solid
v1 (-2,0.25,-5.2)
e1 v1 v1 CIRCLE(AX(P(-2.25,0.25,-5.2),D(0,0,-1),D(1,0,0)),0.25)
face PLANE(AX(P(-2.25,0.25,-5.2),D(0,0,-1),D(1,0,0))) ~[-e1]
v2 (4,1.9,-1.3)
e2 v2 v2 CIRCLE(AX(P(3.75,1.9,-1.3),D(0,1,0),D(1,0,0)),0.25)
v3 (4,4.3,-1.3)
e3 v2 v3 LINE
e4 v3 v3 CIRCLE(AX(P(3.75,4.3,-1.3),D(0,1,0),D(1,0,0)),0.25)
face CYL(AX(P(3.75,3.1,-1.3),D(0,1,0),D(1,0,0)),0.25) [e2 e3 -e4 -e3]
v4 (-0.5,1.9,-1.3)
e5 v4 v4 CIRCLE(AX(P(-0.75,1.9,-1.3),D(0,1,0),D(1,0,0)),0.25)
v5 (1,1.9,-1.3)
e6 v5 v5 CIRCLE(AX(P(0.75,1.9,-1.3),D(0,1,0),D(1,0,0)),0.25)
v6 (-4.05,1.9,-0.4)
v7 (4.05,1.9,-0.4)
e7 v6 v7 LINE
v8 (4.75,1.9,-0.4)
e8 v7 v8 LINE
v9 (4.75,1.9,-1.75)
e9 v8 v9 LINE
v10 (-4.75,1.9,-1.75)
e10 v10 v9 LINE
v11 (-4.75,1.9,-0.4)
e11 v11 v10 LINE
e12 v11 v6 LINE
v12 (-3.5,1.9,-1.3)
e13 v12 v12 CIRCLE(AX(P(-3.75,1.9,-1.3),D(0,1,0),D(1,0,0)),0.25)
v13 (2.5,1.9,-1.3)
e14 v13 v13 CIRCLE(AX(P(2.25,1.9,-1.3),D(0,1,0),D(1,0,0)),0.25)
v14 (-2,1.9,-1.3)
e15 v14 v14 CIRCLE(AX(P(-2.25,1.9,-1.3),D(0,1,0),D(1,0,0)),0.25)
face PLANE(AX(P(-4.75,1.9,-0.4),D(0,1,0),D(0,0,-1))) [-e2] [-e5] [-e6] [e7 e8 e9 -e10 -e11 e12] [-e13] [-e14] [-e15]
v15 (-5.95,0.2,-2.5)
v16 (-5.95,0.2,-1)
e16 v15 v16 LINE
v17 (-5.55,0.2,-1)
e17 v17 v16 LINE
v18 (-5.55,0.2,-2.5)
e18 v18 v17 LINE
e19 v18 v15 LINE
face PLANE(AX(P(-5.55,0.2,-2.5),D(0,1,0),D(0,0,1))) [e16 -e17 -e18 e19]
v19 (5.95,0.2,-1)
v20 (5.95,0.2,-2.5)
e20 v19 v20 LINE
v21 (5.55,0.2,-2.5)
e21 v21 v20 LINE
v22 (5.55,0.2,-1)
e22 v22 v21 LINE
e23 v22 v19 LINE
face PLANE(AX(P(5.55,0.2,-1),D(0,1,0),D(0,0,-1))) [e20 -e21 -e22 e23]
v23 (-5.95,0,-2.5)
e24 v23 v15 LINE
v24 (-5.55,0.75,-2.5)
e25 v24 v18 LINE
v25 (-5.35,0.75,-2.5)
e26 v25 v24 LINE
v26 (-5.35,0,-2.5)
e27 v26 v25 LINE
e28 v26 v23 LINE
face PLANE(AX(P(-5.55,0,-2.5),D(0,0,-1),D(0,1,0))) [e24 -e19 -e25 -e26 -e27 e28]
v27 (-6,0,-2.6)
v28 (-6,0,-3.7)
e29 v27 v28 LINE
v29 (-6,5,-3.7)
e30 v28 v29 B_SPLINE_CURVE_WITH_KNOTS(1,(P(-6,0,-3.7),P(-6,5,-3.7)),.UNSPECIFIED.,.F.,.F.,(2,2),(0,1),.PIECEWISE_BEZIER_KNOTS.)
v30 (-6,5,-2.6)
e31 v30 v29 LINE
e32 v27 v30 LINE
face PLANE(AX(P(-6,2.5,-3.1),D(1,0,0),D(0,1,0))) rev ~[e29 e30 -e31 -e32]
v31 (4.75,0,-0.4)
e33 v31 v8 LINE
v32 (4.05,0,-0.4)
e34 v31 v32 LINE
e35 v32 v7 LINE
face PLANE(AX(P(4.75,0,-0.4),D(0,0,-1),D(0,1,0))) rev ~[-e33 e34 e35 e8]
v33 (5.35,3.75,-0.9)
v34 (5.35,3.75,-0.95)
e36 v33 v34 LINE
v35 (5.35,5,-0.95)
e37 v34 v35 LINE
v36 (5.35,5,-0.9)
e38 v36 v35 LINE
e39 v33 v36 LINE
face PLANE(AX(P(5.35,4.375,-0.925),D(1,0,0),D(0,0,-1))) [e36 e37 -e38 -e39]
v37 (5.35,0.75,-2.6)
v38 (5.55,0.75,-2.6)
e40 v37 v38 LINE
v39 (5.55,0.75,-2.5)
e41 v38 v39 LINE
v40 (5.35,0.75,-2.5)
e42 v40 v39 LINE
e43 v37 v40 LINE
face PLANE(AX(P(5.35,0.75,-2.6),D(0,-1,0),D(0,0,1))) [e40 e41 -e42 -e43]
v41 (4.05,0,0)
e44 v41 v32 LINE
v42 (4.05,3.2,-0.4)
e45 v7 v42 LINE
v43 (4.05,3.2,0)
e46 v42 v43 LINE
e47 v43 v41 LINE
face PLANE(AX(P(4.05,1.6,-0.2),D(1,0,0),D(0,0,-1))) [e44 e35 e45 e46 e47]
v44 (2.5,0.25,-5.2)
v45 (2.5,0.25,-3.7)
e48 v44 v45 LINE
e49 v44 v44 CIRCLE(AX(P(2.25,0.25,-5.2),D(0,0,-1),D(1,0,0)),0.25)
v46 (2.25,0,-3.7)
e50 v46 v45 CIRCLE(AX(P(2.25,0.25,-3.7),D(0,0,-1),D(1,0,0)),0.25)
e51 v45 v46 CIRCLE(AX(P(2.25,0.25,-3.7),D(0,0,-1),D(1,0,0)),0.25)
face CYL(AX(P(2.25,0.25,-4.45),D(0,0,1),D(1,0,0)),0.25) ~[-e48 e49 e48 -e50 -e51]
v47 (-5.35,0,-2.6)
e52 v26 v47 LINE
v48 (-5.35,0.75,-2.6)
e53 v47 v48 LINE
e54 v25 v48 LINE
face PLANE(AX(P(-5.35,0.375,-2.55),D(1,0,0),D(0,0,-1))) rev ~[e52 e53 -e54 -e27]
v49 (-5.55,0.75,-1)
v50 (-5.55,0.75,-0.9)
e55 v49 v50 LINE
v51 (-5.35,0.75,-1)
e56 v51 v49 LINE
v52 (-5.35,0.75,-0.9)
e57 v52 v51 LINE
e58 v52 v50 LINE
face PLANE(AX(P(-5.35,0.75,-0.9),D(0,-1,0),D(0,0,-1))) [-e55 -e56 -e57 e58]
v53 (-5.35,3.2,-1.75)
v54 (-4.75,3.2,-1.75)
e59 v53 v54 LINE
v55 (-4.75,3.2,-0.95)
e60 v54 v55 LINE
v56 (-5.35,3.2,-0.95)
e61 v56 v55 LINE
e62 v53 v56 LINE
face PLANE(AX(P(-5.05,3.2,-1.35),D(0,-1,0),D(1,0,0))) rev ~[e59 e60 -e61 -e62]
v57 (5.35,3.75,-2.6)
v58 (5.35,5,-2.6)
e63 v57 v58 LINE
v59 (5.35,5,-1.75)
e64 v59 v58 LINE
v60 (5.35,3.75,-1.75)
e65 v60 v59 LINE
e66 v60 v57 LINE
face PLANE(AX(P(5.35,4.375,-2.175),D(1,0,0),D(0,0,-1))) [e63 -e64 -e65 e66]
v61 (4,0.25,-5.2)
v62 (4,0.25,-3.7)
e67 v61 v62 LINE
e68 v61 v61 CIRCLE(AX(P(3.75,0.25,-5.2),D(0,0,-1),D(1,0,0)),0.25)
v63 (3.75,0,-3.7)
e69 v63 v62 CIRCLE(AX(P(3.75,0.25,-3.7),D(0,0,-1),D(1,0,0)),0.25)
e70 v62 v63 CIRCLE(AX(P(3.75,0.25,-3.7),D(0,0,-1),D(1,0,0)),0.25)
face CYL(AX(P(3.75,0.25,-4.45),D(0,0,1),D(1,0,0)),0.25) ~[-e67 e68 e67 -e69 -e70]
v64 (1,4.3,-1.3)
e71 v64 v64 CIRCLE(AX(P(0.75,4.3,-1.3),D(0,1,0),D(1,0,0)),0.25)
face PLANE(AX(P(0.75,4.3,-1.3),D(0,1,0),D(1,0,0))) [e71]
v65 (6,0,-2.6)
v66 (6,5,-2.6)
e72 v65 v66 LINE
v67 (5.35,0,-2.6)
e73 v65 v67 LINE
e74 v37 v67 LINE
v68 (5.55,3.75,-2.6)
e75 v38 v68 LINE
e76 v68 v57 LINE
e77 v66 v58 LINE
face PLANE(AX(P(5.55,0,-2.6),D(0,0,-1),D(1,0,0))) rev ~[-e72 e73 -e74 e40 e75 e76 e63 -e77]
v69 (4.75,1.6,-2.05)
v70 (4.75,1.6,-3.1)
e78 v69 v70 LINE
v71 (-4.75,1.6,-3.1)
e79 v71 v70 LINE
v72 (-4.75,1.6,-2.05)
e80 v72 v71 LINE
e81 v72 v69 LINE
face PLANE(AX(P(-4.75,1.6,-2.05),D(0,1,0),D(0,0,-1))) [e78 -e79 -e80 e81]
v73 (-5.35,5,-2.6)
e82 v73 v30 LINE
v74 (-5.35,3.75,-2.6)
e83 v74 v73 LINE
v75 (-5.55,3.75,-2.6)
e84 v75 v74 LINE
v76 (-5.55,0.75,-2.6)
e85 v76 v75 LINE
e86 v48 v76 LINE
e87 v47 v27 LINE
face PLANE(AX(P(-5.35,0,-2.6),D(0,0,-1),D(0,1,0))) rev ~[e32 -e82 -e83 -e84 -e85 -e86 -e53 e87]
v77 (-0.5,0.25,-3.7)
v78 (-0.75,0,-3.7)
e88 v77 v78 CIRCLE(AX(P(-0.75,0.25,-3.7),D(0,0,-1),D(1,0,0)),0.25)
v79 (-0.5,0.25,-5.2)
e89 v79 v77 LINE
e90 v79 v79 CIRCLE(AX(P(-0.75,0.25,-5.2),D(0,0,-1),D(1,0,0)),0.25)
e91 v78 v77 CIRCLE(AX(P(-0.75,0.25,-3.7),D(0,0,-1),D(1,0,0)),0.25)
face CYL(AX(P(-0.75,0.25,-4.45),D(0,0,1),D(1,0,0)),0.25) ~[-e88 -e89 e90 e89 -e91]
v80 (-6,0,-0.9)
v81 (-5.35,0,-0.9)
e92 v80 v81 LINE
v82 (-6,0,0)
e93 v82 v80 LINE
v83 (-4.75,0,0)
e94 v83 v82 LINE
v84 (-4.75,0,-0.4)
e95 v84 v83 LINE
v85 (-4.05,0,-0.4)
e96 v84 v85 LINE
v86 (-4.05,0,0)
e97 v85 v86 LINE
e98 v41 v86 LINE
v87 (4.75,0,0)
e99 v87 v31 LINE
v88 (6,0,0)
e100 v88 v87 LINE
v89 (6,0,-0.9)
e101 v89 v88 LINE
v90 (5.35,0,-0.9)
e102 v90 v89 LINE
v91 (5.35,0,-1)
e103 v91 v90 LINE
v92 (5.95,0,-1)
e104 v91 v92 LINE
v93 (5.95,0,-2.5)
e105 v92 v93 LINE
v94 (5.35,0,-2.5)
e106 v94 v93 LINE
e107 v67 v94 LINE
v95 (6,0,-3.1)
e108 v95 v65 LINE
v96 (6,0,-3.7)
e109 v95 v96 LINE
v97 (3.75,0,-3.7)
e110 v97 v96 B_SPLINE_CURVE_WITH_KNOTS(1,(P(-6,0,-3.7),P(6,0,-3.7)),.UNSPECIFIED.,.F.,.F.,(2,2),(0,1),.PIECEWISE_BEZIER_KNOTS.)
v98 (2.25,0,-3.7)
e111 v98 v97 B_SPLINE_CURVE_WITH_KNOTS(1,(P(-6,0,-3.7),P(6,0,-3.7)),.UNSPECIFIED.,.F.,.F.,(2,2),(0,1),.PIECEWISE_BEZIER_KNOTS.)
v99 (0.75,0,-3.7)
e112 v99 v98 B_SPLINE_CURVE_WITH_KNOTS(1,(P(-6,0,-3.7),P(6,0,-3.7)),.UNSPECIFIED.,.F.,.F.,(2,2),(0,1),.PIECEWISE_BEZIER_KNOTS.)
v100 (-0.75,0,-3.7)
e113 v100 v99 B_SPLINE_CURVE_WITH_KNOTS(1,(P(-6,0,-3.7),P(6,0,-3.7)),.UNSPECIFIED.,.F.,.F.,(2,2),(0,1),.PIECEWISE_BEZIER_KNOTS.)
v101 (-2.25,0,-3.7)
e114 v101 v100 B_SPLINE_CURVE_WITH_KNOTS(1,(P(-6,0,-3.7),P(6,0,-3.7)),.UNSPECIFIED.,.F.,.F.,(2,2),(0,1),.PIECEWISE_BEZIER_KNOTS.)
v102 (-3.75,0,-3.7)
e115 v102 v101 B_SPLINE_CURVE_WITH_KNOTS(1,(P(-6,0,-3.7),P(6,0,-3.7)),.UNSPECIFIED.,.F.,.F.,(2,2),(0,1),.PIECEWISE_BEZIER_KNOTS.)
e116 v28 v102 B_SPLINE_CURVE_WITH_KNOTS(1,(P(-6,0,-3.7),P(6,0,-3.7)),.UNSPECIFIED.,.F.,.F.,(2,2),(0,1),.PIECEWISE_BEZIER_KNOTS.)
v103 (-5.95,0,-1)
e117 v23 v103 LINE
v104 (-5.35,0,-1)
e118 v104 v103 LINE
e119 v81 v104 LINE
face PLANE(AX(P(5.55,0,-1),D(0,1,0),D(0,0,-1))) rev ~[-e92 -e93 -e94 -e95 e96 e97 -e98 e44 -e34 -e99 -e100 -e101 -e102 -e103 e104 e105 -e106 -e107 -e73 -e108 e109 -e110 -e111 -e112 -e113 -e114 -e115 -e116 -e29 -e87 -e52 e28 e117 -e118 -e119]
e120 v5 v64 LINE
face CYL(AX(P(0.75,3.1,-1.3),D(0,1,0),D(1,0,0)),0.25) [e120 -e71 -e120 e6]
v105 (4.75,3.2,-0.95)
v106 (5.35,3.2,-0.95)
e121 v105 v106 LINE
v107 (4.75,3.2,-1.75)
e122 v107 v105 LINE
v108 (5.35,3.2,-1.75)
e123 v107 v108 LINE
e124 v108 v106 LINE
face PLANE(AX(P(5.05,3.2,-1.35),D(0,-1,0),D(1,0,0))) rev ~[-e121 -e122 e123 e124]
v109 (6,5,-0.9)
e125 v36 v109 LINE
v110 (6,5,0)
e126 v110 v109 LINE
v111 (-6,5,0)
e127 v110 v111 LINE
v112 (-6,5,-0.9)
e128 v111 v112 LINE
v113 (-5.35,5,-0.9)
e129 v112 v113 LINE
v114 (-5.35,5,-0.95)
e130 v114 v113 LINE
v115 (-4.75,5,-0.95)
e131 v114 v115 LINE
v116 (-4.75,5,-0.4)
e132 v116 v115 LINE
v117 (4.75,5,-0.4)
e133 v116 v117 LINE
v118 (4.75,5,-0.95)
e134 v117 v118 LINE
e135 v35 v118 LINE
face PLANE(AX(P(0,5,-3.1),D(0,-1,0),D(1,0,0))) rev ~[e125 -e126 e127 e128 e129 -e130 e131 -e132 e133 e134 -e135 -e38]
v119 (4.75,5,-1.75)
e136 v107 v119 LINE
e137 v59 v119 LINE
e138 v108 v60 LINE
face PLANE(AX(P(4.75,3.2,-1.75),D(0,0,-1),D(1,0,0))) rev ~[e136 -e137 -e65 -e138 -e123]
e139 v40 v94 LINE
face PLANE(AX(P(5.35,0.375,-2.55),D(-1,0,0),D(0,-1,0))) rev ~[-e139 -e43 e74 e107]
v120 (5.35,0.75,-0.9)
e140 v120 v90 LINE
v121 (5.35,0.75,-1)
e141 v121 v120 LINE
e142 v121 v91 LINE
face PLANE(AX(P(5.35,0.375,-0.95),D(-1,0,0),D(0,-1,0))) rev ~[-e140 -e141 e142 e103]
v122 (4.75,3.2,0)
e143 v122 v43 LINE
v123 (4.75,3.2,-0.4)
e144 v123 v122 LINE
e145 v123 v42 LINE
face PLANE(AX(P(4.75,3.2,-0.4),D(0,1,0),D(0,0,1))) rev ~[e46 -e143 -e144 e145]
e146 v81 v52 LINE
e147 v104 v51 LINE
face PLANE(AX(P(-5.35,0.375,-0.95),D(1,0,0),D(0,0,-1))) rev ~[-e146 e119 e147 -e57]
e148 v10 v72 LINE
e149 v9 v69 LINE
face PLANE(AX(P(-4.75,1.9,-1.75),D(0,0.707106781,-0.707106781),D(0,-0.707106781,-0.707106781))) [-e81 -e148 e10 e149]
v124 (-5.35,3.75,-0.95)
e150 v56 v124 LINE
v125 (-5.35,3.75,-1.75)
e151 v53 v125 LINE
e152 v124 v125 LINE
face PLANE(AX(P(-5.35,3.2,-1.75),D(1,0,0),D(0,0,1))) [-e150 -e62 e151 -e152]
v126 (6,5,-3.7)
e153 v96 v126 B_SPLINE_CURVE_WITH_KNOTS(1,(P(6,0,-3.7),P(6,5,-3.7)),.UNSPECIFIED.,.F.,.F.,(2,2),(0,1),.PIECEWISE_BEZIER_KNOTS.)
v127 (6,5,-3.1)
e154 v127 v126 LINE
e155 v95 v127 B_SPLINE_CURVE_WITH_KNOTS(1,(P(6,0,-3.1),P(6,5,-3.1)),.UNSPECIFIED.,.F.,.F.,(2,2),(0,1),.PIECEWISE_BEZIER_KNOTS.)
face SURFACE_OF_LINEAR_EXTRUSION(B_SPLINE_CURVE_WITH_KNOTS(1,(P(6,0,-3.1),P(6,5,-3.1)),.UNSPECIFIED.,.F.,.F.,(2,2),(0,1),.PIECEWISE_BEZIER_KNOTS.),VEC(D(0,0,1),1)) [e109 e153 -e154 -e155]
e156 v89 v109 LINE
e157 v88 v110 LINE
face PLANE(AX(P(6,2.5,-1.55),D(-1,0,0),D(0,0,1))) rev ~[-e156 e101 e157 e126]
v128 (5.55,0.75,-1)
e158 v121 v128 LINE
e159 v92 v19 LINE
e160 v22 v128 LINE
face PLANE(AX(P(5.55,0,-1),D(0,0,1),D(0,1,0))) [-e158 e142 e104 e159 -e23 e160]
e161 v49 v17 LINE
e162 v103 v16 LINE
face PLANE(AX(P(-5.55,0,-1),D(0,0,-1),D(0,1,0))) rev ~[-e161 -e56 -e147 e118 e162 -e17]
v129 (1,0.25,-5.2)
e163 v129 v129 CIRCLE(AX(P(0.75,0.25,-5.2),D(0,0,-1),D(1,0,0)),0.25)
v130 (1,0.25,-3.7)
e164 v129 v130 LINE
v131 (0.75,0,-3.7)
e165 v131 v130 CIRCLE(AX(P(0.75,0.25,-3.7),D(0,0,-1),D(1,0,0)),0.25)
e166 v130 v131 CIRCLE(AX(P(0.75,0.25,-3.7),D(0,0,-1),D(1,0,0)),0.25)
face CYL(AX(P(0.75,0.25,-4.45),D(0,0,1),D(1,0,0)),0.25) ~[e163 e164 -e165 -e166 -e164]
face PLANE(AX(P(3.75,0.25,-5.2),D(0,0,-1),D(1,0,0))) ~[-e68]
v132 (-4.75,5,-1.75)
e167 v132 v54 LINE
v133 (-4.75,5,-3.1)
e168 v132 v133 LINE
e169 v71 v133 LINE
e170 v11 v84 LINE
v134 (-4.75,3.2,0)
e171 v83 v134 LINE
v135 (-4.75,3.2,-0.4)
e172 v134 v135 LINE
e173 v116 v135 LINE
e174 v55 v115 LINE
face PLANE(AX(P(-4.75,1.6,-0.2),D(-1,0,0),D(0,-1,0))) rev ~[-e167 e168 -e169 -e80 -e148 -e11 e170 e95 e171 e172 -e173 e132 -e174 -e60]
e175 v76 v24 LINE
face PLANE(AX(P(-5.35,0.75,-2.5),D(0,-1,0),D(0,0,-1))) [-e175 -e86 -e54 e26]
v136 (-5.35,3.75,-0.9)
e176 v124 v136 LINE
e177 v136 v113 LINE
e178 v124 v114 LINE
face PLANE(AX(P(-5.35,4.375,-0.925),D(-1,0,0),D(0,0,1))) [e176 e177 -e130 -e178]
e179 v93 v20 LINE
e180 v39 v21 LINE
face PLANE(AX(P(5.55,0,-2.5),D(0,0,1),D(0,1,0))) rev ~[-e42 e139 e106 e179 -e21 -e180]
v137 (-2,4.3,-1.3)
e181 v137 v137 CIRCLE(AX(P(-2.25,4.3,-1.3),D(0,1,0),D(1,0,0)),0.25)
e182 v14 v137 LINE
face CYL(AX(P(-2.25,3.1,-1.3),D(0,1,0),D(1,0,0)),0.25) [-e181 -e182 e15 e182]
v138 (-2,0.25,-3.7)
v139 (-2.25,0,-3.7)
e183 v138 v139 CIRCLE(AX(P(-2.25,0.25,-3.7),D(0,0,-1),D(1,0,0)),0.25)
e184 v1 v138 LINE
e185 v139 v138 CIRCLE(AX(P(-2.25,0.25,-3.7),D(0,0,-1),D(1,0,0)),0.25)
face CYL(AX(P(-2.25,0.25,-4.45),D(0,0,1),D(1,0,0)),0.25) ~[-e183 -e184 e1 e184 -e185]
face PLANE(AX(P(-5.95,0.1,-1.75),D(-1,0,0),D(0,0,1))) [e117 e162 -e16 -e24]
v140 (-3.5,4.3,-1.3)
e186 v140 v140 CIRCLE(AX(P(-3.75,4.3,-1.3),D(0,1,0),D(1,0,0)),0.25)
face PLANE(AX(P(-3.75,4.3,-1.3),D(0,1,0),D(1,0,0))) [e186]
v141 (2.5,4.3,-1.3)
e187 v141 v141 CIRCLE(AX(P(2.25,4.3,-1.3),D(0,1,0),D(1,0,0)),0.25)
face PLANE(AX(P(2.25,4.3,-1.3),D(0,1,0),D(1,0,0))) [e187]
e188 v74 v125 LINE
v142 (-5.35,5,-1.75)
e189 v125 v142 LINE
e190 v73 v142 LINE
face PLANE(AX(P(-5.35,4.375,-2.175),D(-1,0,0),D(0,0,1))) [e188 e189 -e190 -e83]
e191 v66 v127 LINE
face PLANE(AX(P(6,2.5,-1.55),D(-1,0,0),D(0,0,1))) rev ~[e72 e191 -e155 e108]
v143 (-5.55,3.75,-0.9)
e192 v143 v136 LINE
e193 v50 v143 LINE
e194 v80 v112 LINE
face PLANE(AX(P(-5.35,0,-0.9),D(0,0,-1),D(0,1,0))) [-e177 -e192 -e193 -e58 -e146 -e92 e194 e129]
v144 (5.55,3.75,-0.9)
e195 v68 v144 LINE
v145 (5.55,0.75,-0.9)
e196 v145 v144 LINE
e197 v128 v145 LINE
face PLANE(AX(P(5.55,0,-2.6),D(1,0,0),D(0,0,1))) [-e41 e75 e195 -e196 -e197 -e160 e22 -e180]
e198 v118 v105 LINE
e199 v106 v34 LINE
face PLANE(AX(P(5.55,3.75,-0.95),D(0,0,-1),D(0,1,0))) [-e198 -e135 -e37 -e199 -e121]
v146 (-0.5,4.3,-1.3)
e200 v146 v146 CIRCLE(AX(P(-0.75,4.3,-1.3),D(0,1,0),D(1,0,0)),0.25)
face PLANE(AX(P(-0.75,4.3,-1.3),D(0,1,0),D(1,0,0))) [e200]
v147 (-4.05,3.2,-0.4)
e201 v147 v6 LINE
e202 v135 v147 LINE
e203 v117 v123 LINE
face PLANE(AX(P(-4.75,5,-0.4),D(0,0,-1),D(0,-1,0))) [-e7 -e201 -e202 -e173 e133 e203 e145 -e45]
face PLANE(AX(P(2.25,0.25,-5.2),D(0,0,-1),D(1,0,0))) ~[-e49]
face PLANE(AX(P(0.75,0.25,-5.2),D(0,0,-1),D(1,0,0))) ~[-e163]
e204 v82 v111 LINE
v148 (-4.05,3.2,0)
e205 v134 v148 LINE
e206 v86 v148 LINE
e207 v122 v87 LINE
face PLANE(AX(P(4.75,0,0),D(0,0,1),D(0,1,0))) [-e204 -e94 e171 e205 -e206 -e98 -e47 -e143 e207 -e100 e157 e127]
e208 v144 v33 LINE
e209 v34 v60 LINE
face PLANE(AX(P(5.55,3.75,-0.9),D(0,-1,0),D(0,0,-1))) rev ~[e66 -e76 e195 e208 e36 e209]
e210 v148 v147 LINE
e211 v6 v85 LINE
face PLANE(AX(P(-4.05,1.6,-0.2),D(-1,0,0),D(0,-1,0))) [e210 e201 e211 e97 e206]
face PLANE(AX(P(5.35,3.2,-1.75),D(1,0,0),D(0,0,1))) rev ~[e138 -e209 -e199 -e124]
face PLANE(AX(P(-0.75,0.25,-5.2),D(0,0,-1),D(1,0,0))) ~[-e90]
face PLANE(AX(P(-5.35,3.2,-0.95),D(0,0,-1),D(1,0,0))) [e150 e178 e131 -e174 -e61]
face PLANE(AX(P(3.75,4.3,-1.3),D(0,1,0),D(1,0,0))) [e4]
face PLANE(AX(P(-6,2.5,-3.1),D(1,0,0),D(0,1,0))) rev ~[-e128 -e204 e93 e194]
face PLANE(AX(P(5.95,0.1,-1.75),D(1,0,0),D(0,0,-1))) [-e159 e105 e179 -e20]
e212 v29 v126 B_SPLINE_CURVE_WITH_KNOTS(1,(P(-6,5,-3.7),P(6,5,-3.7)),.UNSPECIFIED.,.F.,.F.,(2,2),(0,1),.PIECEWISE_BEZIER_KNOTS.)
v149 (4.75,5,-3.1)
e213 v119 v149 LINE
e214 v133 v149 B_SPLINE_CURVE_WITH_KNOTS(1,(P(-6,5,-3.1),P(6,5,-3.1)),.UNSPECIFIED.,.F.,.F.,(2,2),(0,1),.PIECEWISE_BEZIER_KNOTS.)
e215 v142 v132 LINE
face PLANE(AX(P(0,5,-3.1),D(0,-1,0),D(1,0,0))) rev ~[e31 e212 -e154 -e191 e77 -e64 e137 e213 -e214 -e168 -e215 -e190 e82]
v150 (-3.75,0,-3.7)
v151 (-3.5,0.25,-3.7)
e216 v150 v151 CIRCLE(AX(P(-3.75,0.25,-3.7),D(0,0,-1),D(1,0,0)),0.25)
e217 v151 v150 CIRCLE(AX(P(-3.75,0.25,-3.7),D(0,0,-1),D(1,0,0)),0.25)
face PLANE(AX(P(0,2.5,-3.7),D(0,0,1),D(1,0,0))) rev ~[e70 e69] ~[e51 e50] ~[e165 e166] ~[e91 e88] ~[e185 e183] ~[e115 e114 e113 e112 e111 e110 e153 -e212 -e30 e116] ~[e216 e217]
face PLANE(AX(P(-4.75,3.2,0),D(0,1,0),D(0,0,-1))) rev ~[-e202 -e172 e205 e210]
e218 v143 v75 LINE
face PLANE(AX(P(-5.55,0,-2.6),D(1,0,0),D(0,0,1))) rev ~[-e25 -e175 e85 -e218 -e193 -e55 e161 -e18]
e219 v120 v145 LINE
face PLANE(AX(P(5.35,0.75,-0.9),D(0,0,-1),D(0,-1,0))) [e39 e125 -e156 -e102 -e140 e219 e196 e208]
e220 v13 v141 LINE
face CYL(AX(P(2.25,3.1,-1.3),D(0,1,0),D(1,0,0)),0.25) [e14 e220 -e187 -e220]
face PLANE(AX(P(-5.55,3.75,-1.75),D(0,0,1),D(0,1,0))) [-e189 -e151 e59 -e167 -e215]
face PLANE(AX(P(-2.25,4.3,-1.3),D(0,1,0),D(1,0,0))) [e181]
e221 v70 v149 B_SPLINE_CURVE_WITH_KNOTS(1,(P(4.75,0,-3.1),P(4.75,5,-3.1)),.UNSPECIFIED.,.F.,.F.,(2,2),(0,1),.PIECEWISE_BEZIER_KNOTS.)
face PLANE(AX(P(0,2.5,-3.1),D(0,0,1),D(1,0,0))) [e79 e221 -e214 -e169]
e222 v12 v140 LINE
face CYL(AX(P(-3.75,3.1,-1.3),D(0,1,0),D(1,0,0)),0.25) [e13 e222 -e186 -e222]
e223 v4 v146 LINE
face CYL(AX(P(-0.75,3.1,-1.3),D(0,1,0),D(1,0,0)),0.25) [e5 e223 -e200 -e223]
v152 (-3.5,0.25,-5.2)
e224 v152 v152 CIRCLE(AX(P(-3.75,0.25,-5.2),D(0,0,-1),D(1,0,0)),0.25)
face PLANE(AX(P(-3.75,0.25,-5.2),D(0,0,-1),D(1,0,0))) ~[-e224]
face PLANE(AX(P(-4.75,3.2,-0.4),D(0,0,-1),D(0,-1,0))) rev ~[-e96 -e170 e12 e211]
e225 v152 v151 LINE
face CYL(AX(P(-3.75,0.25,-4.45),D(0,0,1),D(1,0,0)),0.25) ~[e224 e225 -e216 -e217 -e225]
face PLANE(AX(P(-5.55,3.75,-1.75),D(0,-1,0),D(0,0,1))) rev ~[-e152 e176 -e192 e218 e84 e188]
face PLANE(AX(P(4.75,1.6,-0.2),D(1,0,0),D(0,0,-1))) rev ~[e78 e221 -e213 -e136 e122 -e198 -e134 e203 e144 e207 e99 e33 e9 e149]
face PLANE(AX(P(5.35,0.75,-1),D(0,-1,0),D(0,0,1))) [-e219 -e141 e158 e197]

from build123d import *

# Parameters (mm, degrees)
SKETCH1_W           = 1.25
SKETCH1_H           = 5
BOSS_EXTRUDE1_DEPTH = 3.1
BOSS_EXTRUDE2_DEPTH = 9.5
BOSS_EXTRUDE3_DEPTH = 1.250000167
CUT_EXTRUDE1_DEPTH  = 0.7
CUT_EXTRUDE2_DEPTH  = 0.7
BOSS_EXTRUDE4_DEPTH = 0.6
SKETCH7_W           = 0.45
SKETCH7_H           = 1.7
CUT_EXTRUDE3_DEPTH  = 6.0000001
CUT_EXTRUDE4_REACH  = 13.55
SKETCH8_W           = 0.8
SKETCH8_H           = 1.25
SKETCH9_W           = 0.85
SKETCH9_H           = 1.25
CUT_EXTRUDE5_DEPTH  = 0.2
SKETCH10_W          = 0.05
SKETCH10_H          = 1.25
CUT_EXTRUDE6_DEPTH  = 0.2
CUT_EXTRUDE7_REACH  = 3.8
SKETCH12_W          = 0.6
SKETCH12_H          = 0.8
SKETCH13_W          = 0.45
SKETCH13_H          = 1.7
CUT_EXTRUDE8_DEPTH  = 6.0000001
SKETCH14_W          = 0.8
SKETCH14_H          = 1.25
CUT_EXTRUDE9_DEPTH  = 12.5500001
SKETCH15_W          = 0.85
SKETCH15_H          = 1.25
CUT_EXTRUDE10_DEPTH = 0.2
CUT_EXTRUDE11_REACH = 2.65
SKETCH17_W          = 0.1
SKETCH17_H          = 0.75
SKETCH18_W          = 1.5
SKETCH18_H          = 0.2
BOSS_EXTRUDE5_DEPTH = 0.4
CUT_EXTRUDE12_REACH = 2.65
SKETCH20_W          = 0.1
SKETCH20_H          = 0.75
CUT_EXTRUDE13_REACH = 2.65
SKETCH22_W          = 0.75
SKETCH22_H          = 0.1
SKETCH23_W          = 1.5
SKETCH23_H          = 0.2
BOSS_EXTRUDE6_DEPTH = 0.4
CUT_EXTRUDE14_REACH = 2.65
SKETCH25_W          = 0.75
SKETCH25_H          = 0.1
SKETCH26_W          = 0.05
SKETCH26_H          = 1.25
CUT_EXTRUDE15_DEPTH = 0.2
CUT_EXTRUDE16_REACH = 3.8
SKETCH28_W          = 0.6
SKETCH28_H          = 0.8
SKETCH29_W          = 0.25
SKETCH29_H          = 2.4
SKETCH30_W          = 0.25
SKETCH30_H          = 2.4
SKETCH31_W          = 0.25
SKETCH31_H          = 2.4
SKETCH32_W          = 0.25
SKETCH32_H          = 2.4
SKETCH33_W          = 0.25
SKETCH33_H          = 2.4
SKETCH34_W          = 0.25
SKETCH34_H          = 2.4
SKETCH35_W          = 0.25
SKETCH35_H          = 1.5
SKETCH36_W          = 0.25
SKETCH36_H          = 1.5
SKETCH37_W          = 0.25
SKETCH37_H          = 1.5
SKETCH38_W          = 0.25
SKETCH38_H          = 1.5
SKETCH39_W          = 0.25
SKETCH39_H          = 1.5
SKETCH40_W          = 0.25
SKETCH40_H          = 1.5


with BuildPart() as part:
    # Sketch1 → Boss-Extrude1 (new body)
    with BuildSketch(Plane.XY):
        with Locations((-5.375, 2.5)):
            Rectangle(SKETCH1_W, SKETCH1_H)
    extrude(amount=-BOSS_EXTRUDE1_DEPTH)

    # Sketch2 → Boss-Extrude2 (add)
    with BuildSketch(Plane(origin=(-4.75, 0, 0), x_dir=(0, 0, -1), z_dir=(1, 0, 0))):
        with BuildLine():
            Line((0, 5), (0.4, 5))
            Line((0.4, 5), (0.4, 1.9))
            Line((0.4, 1.9), (1.75, 1.9))
            Line((1.75, 1.9), (2.05, 1.6))
            Line((2.05, 1.6), (3.1, 1.6))
            add(Edge.make_bspline(
                [(3.1, 0), (3.1, 1.6)],
                knots=[0, 0, 0.32, 0.32], degree=1))
            Line((3.1, 0), (0, 0))
            Line((0, 0), (0, 5))
        make_face()
    extrude(amount=BOSS_EXTRUDE2_DEPTH)

    # Sketch3 → Boss-Extrude3 (add)
    with BuildSketch(Plane(origin=(4.75, 0, 0), x_dir=(0, 0, -1), z_dir=(1, 0, 0))):
        with BuildLine():
            Line((3.1, 0), (0, 0))
            Line((0, 0), (0, 5))
            Line((0, 5), (3.1, 5))
            add(Edge.make_bspline(
                [(3.1, 0), (3.1, 5)],
                knots=[0, 0, 1, 1], degree=1))
        make_face()
    extrude(amount=BOSS_EXTRUDE3_DEPTH)

    # Sketch4 → Cut-Extrude1 (cut)
    with BuildSketch(Plane(origin=(4.75, 0, 0), x_dir=(0, 0, -1), z_dir=(1, 0, 0))):
        Polygon((0.4, 1.9), (0.4, 3.2), (0, 3.2), (0, 0), (0.4, 0), align=None)
    extrude(amount=-CUT_EXTRUDE1_DEPTH, mode=Mode.SUBTRACT)

    # Sketch5 → Cut-Extrude2 (cut)
    with BuildSketch(Plane(origin=(-4.75, 0, 0), x_dir=(0, -1, 0), z_dir=(-1, 0, 0))):
        Polygon((-1.9, -0.4), (0, -0.4), (0, 0), (-3.2, 0), (-3.2, -0.4), align=None)
    extrude(amount=-CUT_EXTRUDE2_DEPTH, mode=Mode.SUBTRACT)

    # Sketch6 → Boss-Extrude4 (add)
    with BuildSketch(Plane(origin=(0, 0, -3.1), x_dir=(-1, 0, 0), z_dir=(0, 0, -1))):
        with BuildLine():
            add(Edge.make_bspline(
                [(6, 0), (-6, 0)],
                knots=[0, 0, 1, 1], degree=1))
            add(Edge.make_bspline(
                [(-6, 0), (-6, 5)],
                knots=[0, 0, 1, 1], degree=1))
            add(Edge.make_bspline(
                [(6, 5), (-6, 5)],
                knots=[0, 0, 1, 1], degree=1))
            add(Edge.make_bspline(
                [(6, 0), (6, 5)],
                knots=[0, 0, 1, 1], degree=1))
        make_face()
    extrude(amount=BOSS_EXTRUDE4_DEPTH)

    # Sketch7 → Cut-Extrude3 (cut, through all)
    with BuildSketch(Plane.XZ):
        with Locations((-5.775, -1.75)):
            Rectangle(SKETCH7_W, SKETCH7_H)
    extrude(amount=-CUT_EXTRUDE3_DEPTH, mode=Mode.SUBTRACT)

    # Sketch8 → Cut-Extrude4 (cut, up to next)
    with BuildSketch(Plane.ZY.offset(5.55), mode=Mode.PRIVATE) as cut_extrude4_sk1:
        with Locations((-1.35, 4.375)):
            Rectangle(SKETCH8_W, SKETCH8_H)
    cut_extrude4_tool1 = extrude(cut_extrude4_sk1.sketch, amount=-CUT_EXTRUDE4_REACH, mode=Mode.PRIVATE) & part.part
    add(cut_extrude4_tool1.solids().sort_by_distance((-5.55, 4.375, -1.35))[0], mode=Mode.SUBTRACT)

    # Sketch9 → Cut-Extrude5 (cut)
    with BuildSketch(Plane.ZY.offset(5.55)):
        with Locations((-2.175, 4.375)):
            Rectangle(SKETCH9_W, SKETCH9_H)
    extrude(amount=-CUT_EXTRUDE5_DEPTH, mode=Mode.SUBTRACT)

    # Sketch10 → Cut-Extrude6 (cut)
    with BuildSketch(Plane.ZY.offset(5.55)):
        with Locations((-0.925, 4.375)):
            Rectangle(SKETCH10_W, SKETCH10_H)
    extrude(amount=-CUT_EXTRUDE6_DEPTH, mode=Mode.SUBTRACT)

    # Sketch12 → Cut-Extrude7 (cut, up to next)
    with BuildSketch(Plane.XZ.offset(-3.2), mode=Mode.PRIVATE) as cut_extrude7_sk1:
        with Locations((-5.05, -1.35)):
            Rectangle(SKETCH12_W, SKETCH12_H)
    cut_extrude7_tool1 = extrude(cut_extrude7_sk1.sketch, amount=-CUT_EXTRUDE7_REACH, mode=Mode.PRIVATE) & part.part
    add(cut_extrude7_tool1.solids().sort_by_distance((-5.05, 3.2, -1.35))[0], mode=Mode.SUBTRACT)

    # Sketch13 → Cut-Extrude8 (cut, through all)
    with BuildSketch(Plane.XZ):
        with Locations((5.775, -1.75)):
            Rectangle(SKETCH13_W, SKETCH13_H)
    extrude(amount=-CUT_EXTRUDE8_DEPTH, mode=Mode.SUBTRACT)

    # Sketch14 → Cut-Extrude9 (cut, through all)
    with BuildSketch(Plane(origin=(5.55, 0, 0), x_dir=(0, 0, -1), z_dir=(1, 0, 0))):
        with Locations((1.35, 4.375)):
            Rectangle(SKETCH14_W, SKETCH14_H)
    extrude(amount=-CUT_EXTRUDE9_DEPTH, mode=Mode.SUBTRACT)

    # Sketch15 → Cut-Extrude10 (cut)
    with BuildSketch(Plane(origin=(5.55, 0, 0), x_dir=(0, 0, -1), z_dir=(1, 0, 0))):
        with Locations((2.175, 4.375)):
            Rectangle(SKETCH15_W, SKETCH15_H)
    extrude(amount=-CUT_EXTRUDE10_DEPTH, mode=Mode.SUBTRACT)

    # Sketch17 → Cut-Extrude11 (cut, up to next)
    with BuildSketch(Plane(origin=(-5.35, 0, 0), x_dir=(0, 0, -1), z_dir=(1, 0, 0)), mode=Mode.PRIVATE) as cut_extrude11_sk1:
        with Locations((0.95, 0.375)):
            Rectangle(SKETCH17_W, SKETCH17_H)
    cut_extrude11_tool1 = extrude(cut_extrude11_sk1.sketch, amount=-CUT_EXTRUDE11_REACH, mode=Mode.PRIVATE) & part.part
    add(cut_extrude11_tool1.solids().sort_by_distance((-5.35, 0.375, -0.95))[0], mode=Mode.SUBTRACT)

    # Sketch18 → Boss-Extrude5 (add)
    with BuildSketch(Plane.ZY.offset(5.55)):
        with Locations((-1.75, 0.1)):
            Rectangle(SKETCH18_W, SKETCH18_H)
    extrude(amount=BOSS_EXTRUDE5_DEPTH)

    # Sketch20 → Cut-Extrude12 (cut, up to next)
    with BuildSketch(Plane(origin=(-5.35, 0, 0), x_dir=(0, 0, -1), z_dir=(1, 0, 0)), mode=Mode.PRIVATE) as cut_extrude12_sk1:
        with Locations((2.55, 0.375)):
            Rectangle(SKETCH20_W, SKETCH20_H)
    cut_extrude12_tool1 = extrude(cut_extrude12_sk1.sketch, amount=-CUT_EXTRUDE12_REACH, mode=Mode.PRIVATE) & part.part
    add(cut_extrude12_tool1.solids().sort_by_distance((-5.35, 0.375, -2.55))[0], mode=Mode.SUBTRACT)

    # Sketch22 → Cut-Extrude13 (cut, up to next)
    with BuildSketch(Plane(origin=(5.35, 0, 0), x_dir=(0, -1, 0), z_dir=(-1, 0, 0)), mode=Mode.PRIVATE) as cut_extrude13_sk1:
        with Locations((-0.375, -2.55)):
            Rectangle(SKETCH22_W, SKETCH22_H)
    cut_extrude13_tool1 = extrude(cut_extrude13_sk1.sketch, amount=-CUT_EXTRUDE13_REACH, mode=Mode.PRIVATE) & part.part
    add(cut_extrude13_tool1.solids().sort_by_distance((5.35, 0.375, -2.55))[0], mode=Mode.SUBTRACT)

    # Sketch23 → Boss-Extrude6 (add)
    with BuildSketch(Plane(origin=(5.55, 0, 0), x_dir=(0, 0, -1), z_dir=(1, 0, 0))):
        with Locations((1.75, 0.1)):
            Rectangle(SKETCH23_W, SKETCH23_H)
    extrude(amount=BOSS_EXTRUDE6_DEPTH)

    # Sketch25 → Cut-Extrude14 (cut, up to next)
    with BuildSketch(Plane(origin=(5.35, 0, 0), x_dir=(0, -1, 0), z_dir=(-1, 0, 0)), mode=Mode.PRIVATE) as cut_extrude14_sk1:
        with Locations((-0.375, -0.95)):
            Rectangle(SKETCH25_W, SKETCH25_H)
    cut_extrude14_tool1 = extrude(cut_extrude14_sk1.sketch, amount=-CUT_EXTRUDE14_REACH, mode=Mode.PRIVATE) & part.part
    add(cut_extrude14_tool1.solids().sort_by_distance((5.35, 0.375, -0.95))[0], mode=Mode.SUBTRACT)

    # Sketch26 → Cut-Extrude15 (cut)
    with BuildSketch(Plane(origin=(5.55, 0, 0), x_dir=(0, 0, -1), z_dir=(1, 0, 0))):
        with Locations((0.925, 4.375)):
            Rectangle(SKETCH26_W, SKETCH26_H)
    extrude(amount=-CUT_EXTRUDE15_DEPTH, mode=Mode.SUBTRACT)

    # Sketch28 → Cut-Extrude16 (cut, up to next)
    with BuildSketch(Plane.XZ.offset(-3.2), mode=Mode.PRIVATE) as cut_extrude16_sk1:
        with Locations((5.05, -1.35)):
            Rectangle(SKETCH28_W, SKETCH28_H)
    cut_extrude16_tool1 = extrude(cut_extrude16_sk1.sketch, amount=-CUT_EXTRUDE16_REACH, mode=Mode.PRIVATE) & part.part
    add(cut_extrude16_tool1.solids().sort_by_distance((5.05, 3.2, -1.35))[0], mode=Mode.SUBTRACT)

    # Sketch29 → Revolve1 (revolve)
    with BuildSketch(Plane(origin=(0, 0, -1.3), x_dir=(-1, 0, 0), z_dir=(0, 0, -1))):
        with Locations((-3.875, 3.1)):
            Rectangle(SKETCH29_W, SKETCH29_H)
    revolve(axis=Axis((3.75, 1.9, -1.3), (0, 1, 0)))

    # Sketch30 → Revolve2 (revolve)
    with BuildSketch(Plane(origin=(0, 0, -1.3), x_dir=(-1, 0, 0), z_dir=(0, 0, -1))):
        with Locations((-2.375, 3.1)):
            Rectangle(SKETCH30_W, SKETCH30_H)
    revolve(axis=Axis((2.25, 1.9, -1.3), (0, 1, 0)))

    # Sketch31 → Revolve3 (revolve)
    with BuildSketch(Plane(origin=(0, 0, -1.3), x_dir=(-1, 0, 0), z_dir=(0, 0, -1))):
        with Locations((-0.875, 3.1)):
            Rectangle(SKETCH31_W, SKETCH31_H)
    revolve(axis=Axis((0.75, 1.9, -1.3), (0, 1, 0)))

    # Sketch32 → Revolve4 (revolve)
    with BuildSketch(Plane(origin=(0, 0, -1.3), x_dir=(-1, 0, 0), z_dir=(0, 0, -1))):
        with Locations((0.625, 3.1)):
            Rectangle(SKETCH32_W, SKETCH32_H)
    revolve(axis=Axis((-0.75, 1.9, -1.3), (0, 1, 0)))

    # Sketch33 → Revolve5 (revolve)
    with BuildSketch(Plane(origin=(0, 0, -1.3), x_dir=(-1, 0, 0), z_dir=(0, 0, -1))):
        with Locations((2.125, 3.1)):
            Rectangle(SKETCH33_W, SKETCH33_H)
    revolve(axis=Axis((-2.25, 1.9, -1.3), (0, 1, 0)))

    # Sketch34 → Revolve6 (revolve)
    with BuildSketch(Plane(origin=(0, 0, -1.3), x_dir=(-1, 0, 0), z_dir=(0, 0, -1))):
        with Locations((3.625, 3.1)):
            Rectangle(SKETCH34_W, SKETCH34_H)
    revolve(axis=Axis((-3.75, 1.9, -1.3), (0, 1, 0)))

    # Sketch35 → Revolve7 (revolve)
    with BuildSketch(Plane.XZ.offset(-0.25)):
        with Locations((3.875, -4.45)):
            Rectangle(SKETCH35_W, SKETCH35_H)
    revolve(axis=Axis((3.75, 0.25, -3.7), (0, 0, -1)))

    # Sketch36 → Revolve8 (revolve)
    with BuildSketch(Plane.XZ.offset(-0.25)):
        with Locations((2.375, -4.45)):
            Rectangle(SKETCH36_W, SKETCH36_H)
    revolve(axis=Axis((2.25, 0.25, -3.7), (0, 0, -1)))

    # Sketch37 → Revolve9 (revolve)
    with BuildSketch(Plane.XZ.offset(-0.25)):
        with Locations((0.875, -4.45)):
            Rectangle(SKETCH37_W, SKETCH37_H)
    revolve(axis=Axis((0.75, 0.25, -3.7), (0, 0, -1)))

    # Sketch38 → Revolve10 (revolve)
    with BuildSketch(Plane.XZ.offset(-0.25)):
        with Locations((-0.625, -4.45)):
            Rectangle(SKETCH38_W, SKETCH38_H)
    revolve(axis=Axis((-0.75, 0.25, -3.7), (0, 0, -1)))

    # Sketch39 → Revolve11 (revolve)
    with BuildSketch(Plane.XZ.offset(-0.25)):
        with Locations((-2.125, -4.45)):
            Rectangle(SKETCH39_W, SKETCH39_H)
    revolve(axis=Axis((-2.25, 0.25, -3.7), (0, 0, -1)))

    # Sketch40 → Revolve12 (revolve)
    with BuildSketch(Plane.XZ.offset(-0.25)):
        with Locations((-3.625, -4.45)):
            Rectangle(SKETCH40_W, SKETCH40_H)
    revolve(axis=Axis((-3.75, 0.25, -3.7), (0, 0, -1)))


solid = part.part
